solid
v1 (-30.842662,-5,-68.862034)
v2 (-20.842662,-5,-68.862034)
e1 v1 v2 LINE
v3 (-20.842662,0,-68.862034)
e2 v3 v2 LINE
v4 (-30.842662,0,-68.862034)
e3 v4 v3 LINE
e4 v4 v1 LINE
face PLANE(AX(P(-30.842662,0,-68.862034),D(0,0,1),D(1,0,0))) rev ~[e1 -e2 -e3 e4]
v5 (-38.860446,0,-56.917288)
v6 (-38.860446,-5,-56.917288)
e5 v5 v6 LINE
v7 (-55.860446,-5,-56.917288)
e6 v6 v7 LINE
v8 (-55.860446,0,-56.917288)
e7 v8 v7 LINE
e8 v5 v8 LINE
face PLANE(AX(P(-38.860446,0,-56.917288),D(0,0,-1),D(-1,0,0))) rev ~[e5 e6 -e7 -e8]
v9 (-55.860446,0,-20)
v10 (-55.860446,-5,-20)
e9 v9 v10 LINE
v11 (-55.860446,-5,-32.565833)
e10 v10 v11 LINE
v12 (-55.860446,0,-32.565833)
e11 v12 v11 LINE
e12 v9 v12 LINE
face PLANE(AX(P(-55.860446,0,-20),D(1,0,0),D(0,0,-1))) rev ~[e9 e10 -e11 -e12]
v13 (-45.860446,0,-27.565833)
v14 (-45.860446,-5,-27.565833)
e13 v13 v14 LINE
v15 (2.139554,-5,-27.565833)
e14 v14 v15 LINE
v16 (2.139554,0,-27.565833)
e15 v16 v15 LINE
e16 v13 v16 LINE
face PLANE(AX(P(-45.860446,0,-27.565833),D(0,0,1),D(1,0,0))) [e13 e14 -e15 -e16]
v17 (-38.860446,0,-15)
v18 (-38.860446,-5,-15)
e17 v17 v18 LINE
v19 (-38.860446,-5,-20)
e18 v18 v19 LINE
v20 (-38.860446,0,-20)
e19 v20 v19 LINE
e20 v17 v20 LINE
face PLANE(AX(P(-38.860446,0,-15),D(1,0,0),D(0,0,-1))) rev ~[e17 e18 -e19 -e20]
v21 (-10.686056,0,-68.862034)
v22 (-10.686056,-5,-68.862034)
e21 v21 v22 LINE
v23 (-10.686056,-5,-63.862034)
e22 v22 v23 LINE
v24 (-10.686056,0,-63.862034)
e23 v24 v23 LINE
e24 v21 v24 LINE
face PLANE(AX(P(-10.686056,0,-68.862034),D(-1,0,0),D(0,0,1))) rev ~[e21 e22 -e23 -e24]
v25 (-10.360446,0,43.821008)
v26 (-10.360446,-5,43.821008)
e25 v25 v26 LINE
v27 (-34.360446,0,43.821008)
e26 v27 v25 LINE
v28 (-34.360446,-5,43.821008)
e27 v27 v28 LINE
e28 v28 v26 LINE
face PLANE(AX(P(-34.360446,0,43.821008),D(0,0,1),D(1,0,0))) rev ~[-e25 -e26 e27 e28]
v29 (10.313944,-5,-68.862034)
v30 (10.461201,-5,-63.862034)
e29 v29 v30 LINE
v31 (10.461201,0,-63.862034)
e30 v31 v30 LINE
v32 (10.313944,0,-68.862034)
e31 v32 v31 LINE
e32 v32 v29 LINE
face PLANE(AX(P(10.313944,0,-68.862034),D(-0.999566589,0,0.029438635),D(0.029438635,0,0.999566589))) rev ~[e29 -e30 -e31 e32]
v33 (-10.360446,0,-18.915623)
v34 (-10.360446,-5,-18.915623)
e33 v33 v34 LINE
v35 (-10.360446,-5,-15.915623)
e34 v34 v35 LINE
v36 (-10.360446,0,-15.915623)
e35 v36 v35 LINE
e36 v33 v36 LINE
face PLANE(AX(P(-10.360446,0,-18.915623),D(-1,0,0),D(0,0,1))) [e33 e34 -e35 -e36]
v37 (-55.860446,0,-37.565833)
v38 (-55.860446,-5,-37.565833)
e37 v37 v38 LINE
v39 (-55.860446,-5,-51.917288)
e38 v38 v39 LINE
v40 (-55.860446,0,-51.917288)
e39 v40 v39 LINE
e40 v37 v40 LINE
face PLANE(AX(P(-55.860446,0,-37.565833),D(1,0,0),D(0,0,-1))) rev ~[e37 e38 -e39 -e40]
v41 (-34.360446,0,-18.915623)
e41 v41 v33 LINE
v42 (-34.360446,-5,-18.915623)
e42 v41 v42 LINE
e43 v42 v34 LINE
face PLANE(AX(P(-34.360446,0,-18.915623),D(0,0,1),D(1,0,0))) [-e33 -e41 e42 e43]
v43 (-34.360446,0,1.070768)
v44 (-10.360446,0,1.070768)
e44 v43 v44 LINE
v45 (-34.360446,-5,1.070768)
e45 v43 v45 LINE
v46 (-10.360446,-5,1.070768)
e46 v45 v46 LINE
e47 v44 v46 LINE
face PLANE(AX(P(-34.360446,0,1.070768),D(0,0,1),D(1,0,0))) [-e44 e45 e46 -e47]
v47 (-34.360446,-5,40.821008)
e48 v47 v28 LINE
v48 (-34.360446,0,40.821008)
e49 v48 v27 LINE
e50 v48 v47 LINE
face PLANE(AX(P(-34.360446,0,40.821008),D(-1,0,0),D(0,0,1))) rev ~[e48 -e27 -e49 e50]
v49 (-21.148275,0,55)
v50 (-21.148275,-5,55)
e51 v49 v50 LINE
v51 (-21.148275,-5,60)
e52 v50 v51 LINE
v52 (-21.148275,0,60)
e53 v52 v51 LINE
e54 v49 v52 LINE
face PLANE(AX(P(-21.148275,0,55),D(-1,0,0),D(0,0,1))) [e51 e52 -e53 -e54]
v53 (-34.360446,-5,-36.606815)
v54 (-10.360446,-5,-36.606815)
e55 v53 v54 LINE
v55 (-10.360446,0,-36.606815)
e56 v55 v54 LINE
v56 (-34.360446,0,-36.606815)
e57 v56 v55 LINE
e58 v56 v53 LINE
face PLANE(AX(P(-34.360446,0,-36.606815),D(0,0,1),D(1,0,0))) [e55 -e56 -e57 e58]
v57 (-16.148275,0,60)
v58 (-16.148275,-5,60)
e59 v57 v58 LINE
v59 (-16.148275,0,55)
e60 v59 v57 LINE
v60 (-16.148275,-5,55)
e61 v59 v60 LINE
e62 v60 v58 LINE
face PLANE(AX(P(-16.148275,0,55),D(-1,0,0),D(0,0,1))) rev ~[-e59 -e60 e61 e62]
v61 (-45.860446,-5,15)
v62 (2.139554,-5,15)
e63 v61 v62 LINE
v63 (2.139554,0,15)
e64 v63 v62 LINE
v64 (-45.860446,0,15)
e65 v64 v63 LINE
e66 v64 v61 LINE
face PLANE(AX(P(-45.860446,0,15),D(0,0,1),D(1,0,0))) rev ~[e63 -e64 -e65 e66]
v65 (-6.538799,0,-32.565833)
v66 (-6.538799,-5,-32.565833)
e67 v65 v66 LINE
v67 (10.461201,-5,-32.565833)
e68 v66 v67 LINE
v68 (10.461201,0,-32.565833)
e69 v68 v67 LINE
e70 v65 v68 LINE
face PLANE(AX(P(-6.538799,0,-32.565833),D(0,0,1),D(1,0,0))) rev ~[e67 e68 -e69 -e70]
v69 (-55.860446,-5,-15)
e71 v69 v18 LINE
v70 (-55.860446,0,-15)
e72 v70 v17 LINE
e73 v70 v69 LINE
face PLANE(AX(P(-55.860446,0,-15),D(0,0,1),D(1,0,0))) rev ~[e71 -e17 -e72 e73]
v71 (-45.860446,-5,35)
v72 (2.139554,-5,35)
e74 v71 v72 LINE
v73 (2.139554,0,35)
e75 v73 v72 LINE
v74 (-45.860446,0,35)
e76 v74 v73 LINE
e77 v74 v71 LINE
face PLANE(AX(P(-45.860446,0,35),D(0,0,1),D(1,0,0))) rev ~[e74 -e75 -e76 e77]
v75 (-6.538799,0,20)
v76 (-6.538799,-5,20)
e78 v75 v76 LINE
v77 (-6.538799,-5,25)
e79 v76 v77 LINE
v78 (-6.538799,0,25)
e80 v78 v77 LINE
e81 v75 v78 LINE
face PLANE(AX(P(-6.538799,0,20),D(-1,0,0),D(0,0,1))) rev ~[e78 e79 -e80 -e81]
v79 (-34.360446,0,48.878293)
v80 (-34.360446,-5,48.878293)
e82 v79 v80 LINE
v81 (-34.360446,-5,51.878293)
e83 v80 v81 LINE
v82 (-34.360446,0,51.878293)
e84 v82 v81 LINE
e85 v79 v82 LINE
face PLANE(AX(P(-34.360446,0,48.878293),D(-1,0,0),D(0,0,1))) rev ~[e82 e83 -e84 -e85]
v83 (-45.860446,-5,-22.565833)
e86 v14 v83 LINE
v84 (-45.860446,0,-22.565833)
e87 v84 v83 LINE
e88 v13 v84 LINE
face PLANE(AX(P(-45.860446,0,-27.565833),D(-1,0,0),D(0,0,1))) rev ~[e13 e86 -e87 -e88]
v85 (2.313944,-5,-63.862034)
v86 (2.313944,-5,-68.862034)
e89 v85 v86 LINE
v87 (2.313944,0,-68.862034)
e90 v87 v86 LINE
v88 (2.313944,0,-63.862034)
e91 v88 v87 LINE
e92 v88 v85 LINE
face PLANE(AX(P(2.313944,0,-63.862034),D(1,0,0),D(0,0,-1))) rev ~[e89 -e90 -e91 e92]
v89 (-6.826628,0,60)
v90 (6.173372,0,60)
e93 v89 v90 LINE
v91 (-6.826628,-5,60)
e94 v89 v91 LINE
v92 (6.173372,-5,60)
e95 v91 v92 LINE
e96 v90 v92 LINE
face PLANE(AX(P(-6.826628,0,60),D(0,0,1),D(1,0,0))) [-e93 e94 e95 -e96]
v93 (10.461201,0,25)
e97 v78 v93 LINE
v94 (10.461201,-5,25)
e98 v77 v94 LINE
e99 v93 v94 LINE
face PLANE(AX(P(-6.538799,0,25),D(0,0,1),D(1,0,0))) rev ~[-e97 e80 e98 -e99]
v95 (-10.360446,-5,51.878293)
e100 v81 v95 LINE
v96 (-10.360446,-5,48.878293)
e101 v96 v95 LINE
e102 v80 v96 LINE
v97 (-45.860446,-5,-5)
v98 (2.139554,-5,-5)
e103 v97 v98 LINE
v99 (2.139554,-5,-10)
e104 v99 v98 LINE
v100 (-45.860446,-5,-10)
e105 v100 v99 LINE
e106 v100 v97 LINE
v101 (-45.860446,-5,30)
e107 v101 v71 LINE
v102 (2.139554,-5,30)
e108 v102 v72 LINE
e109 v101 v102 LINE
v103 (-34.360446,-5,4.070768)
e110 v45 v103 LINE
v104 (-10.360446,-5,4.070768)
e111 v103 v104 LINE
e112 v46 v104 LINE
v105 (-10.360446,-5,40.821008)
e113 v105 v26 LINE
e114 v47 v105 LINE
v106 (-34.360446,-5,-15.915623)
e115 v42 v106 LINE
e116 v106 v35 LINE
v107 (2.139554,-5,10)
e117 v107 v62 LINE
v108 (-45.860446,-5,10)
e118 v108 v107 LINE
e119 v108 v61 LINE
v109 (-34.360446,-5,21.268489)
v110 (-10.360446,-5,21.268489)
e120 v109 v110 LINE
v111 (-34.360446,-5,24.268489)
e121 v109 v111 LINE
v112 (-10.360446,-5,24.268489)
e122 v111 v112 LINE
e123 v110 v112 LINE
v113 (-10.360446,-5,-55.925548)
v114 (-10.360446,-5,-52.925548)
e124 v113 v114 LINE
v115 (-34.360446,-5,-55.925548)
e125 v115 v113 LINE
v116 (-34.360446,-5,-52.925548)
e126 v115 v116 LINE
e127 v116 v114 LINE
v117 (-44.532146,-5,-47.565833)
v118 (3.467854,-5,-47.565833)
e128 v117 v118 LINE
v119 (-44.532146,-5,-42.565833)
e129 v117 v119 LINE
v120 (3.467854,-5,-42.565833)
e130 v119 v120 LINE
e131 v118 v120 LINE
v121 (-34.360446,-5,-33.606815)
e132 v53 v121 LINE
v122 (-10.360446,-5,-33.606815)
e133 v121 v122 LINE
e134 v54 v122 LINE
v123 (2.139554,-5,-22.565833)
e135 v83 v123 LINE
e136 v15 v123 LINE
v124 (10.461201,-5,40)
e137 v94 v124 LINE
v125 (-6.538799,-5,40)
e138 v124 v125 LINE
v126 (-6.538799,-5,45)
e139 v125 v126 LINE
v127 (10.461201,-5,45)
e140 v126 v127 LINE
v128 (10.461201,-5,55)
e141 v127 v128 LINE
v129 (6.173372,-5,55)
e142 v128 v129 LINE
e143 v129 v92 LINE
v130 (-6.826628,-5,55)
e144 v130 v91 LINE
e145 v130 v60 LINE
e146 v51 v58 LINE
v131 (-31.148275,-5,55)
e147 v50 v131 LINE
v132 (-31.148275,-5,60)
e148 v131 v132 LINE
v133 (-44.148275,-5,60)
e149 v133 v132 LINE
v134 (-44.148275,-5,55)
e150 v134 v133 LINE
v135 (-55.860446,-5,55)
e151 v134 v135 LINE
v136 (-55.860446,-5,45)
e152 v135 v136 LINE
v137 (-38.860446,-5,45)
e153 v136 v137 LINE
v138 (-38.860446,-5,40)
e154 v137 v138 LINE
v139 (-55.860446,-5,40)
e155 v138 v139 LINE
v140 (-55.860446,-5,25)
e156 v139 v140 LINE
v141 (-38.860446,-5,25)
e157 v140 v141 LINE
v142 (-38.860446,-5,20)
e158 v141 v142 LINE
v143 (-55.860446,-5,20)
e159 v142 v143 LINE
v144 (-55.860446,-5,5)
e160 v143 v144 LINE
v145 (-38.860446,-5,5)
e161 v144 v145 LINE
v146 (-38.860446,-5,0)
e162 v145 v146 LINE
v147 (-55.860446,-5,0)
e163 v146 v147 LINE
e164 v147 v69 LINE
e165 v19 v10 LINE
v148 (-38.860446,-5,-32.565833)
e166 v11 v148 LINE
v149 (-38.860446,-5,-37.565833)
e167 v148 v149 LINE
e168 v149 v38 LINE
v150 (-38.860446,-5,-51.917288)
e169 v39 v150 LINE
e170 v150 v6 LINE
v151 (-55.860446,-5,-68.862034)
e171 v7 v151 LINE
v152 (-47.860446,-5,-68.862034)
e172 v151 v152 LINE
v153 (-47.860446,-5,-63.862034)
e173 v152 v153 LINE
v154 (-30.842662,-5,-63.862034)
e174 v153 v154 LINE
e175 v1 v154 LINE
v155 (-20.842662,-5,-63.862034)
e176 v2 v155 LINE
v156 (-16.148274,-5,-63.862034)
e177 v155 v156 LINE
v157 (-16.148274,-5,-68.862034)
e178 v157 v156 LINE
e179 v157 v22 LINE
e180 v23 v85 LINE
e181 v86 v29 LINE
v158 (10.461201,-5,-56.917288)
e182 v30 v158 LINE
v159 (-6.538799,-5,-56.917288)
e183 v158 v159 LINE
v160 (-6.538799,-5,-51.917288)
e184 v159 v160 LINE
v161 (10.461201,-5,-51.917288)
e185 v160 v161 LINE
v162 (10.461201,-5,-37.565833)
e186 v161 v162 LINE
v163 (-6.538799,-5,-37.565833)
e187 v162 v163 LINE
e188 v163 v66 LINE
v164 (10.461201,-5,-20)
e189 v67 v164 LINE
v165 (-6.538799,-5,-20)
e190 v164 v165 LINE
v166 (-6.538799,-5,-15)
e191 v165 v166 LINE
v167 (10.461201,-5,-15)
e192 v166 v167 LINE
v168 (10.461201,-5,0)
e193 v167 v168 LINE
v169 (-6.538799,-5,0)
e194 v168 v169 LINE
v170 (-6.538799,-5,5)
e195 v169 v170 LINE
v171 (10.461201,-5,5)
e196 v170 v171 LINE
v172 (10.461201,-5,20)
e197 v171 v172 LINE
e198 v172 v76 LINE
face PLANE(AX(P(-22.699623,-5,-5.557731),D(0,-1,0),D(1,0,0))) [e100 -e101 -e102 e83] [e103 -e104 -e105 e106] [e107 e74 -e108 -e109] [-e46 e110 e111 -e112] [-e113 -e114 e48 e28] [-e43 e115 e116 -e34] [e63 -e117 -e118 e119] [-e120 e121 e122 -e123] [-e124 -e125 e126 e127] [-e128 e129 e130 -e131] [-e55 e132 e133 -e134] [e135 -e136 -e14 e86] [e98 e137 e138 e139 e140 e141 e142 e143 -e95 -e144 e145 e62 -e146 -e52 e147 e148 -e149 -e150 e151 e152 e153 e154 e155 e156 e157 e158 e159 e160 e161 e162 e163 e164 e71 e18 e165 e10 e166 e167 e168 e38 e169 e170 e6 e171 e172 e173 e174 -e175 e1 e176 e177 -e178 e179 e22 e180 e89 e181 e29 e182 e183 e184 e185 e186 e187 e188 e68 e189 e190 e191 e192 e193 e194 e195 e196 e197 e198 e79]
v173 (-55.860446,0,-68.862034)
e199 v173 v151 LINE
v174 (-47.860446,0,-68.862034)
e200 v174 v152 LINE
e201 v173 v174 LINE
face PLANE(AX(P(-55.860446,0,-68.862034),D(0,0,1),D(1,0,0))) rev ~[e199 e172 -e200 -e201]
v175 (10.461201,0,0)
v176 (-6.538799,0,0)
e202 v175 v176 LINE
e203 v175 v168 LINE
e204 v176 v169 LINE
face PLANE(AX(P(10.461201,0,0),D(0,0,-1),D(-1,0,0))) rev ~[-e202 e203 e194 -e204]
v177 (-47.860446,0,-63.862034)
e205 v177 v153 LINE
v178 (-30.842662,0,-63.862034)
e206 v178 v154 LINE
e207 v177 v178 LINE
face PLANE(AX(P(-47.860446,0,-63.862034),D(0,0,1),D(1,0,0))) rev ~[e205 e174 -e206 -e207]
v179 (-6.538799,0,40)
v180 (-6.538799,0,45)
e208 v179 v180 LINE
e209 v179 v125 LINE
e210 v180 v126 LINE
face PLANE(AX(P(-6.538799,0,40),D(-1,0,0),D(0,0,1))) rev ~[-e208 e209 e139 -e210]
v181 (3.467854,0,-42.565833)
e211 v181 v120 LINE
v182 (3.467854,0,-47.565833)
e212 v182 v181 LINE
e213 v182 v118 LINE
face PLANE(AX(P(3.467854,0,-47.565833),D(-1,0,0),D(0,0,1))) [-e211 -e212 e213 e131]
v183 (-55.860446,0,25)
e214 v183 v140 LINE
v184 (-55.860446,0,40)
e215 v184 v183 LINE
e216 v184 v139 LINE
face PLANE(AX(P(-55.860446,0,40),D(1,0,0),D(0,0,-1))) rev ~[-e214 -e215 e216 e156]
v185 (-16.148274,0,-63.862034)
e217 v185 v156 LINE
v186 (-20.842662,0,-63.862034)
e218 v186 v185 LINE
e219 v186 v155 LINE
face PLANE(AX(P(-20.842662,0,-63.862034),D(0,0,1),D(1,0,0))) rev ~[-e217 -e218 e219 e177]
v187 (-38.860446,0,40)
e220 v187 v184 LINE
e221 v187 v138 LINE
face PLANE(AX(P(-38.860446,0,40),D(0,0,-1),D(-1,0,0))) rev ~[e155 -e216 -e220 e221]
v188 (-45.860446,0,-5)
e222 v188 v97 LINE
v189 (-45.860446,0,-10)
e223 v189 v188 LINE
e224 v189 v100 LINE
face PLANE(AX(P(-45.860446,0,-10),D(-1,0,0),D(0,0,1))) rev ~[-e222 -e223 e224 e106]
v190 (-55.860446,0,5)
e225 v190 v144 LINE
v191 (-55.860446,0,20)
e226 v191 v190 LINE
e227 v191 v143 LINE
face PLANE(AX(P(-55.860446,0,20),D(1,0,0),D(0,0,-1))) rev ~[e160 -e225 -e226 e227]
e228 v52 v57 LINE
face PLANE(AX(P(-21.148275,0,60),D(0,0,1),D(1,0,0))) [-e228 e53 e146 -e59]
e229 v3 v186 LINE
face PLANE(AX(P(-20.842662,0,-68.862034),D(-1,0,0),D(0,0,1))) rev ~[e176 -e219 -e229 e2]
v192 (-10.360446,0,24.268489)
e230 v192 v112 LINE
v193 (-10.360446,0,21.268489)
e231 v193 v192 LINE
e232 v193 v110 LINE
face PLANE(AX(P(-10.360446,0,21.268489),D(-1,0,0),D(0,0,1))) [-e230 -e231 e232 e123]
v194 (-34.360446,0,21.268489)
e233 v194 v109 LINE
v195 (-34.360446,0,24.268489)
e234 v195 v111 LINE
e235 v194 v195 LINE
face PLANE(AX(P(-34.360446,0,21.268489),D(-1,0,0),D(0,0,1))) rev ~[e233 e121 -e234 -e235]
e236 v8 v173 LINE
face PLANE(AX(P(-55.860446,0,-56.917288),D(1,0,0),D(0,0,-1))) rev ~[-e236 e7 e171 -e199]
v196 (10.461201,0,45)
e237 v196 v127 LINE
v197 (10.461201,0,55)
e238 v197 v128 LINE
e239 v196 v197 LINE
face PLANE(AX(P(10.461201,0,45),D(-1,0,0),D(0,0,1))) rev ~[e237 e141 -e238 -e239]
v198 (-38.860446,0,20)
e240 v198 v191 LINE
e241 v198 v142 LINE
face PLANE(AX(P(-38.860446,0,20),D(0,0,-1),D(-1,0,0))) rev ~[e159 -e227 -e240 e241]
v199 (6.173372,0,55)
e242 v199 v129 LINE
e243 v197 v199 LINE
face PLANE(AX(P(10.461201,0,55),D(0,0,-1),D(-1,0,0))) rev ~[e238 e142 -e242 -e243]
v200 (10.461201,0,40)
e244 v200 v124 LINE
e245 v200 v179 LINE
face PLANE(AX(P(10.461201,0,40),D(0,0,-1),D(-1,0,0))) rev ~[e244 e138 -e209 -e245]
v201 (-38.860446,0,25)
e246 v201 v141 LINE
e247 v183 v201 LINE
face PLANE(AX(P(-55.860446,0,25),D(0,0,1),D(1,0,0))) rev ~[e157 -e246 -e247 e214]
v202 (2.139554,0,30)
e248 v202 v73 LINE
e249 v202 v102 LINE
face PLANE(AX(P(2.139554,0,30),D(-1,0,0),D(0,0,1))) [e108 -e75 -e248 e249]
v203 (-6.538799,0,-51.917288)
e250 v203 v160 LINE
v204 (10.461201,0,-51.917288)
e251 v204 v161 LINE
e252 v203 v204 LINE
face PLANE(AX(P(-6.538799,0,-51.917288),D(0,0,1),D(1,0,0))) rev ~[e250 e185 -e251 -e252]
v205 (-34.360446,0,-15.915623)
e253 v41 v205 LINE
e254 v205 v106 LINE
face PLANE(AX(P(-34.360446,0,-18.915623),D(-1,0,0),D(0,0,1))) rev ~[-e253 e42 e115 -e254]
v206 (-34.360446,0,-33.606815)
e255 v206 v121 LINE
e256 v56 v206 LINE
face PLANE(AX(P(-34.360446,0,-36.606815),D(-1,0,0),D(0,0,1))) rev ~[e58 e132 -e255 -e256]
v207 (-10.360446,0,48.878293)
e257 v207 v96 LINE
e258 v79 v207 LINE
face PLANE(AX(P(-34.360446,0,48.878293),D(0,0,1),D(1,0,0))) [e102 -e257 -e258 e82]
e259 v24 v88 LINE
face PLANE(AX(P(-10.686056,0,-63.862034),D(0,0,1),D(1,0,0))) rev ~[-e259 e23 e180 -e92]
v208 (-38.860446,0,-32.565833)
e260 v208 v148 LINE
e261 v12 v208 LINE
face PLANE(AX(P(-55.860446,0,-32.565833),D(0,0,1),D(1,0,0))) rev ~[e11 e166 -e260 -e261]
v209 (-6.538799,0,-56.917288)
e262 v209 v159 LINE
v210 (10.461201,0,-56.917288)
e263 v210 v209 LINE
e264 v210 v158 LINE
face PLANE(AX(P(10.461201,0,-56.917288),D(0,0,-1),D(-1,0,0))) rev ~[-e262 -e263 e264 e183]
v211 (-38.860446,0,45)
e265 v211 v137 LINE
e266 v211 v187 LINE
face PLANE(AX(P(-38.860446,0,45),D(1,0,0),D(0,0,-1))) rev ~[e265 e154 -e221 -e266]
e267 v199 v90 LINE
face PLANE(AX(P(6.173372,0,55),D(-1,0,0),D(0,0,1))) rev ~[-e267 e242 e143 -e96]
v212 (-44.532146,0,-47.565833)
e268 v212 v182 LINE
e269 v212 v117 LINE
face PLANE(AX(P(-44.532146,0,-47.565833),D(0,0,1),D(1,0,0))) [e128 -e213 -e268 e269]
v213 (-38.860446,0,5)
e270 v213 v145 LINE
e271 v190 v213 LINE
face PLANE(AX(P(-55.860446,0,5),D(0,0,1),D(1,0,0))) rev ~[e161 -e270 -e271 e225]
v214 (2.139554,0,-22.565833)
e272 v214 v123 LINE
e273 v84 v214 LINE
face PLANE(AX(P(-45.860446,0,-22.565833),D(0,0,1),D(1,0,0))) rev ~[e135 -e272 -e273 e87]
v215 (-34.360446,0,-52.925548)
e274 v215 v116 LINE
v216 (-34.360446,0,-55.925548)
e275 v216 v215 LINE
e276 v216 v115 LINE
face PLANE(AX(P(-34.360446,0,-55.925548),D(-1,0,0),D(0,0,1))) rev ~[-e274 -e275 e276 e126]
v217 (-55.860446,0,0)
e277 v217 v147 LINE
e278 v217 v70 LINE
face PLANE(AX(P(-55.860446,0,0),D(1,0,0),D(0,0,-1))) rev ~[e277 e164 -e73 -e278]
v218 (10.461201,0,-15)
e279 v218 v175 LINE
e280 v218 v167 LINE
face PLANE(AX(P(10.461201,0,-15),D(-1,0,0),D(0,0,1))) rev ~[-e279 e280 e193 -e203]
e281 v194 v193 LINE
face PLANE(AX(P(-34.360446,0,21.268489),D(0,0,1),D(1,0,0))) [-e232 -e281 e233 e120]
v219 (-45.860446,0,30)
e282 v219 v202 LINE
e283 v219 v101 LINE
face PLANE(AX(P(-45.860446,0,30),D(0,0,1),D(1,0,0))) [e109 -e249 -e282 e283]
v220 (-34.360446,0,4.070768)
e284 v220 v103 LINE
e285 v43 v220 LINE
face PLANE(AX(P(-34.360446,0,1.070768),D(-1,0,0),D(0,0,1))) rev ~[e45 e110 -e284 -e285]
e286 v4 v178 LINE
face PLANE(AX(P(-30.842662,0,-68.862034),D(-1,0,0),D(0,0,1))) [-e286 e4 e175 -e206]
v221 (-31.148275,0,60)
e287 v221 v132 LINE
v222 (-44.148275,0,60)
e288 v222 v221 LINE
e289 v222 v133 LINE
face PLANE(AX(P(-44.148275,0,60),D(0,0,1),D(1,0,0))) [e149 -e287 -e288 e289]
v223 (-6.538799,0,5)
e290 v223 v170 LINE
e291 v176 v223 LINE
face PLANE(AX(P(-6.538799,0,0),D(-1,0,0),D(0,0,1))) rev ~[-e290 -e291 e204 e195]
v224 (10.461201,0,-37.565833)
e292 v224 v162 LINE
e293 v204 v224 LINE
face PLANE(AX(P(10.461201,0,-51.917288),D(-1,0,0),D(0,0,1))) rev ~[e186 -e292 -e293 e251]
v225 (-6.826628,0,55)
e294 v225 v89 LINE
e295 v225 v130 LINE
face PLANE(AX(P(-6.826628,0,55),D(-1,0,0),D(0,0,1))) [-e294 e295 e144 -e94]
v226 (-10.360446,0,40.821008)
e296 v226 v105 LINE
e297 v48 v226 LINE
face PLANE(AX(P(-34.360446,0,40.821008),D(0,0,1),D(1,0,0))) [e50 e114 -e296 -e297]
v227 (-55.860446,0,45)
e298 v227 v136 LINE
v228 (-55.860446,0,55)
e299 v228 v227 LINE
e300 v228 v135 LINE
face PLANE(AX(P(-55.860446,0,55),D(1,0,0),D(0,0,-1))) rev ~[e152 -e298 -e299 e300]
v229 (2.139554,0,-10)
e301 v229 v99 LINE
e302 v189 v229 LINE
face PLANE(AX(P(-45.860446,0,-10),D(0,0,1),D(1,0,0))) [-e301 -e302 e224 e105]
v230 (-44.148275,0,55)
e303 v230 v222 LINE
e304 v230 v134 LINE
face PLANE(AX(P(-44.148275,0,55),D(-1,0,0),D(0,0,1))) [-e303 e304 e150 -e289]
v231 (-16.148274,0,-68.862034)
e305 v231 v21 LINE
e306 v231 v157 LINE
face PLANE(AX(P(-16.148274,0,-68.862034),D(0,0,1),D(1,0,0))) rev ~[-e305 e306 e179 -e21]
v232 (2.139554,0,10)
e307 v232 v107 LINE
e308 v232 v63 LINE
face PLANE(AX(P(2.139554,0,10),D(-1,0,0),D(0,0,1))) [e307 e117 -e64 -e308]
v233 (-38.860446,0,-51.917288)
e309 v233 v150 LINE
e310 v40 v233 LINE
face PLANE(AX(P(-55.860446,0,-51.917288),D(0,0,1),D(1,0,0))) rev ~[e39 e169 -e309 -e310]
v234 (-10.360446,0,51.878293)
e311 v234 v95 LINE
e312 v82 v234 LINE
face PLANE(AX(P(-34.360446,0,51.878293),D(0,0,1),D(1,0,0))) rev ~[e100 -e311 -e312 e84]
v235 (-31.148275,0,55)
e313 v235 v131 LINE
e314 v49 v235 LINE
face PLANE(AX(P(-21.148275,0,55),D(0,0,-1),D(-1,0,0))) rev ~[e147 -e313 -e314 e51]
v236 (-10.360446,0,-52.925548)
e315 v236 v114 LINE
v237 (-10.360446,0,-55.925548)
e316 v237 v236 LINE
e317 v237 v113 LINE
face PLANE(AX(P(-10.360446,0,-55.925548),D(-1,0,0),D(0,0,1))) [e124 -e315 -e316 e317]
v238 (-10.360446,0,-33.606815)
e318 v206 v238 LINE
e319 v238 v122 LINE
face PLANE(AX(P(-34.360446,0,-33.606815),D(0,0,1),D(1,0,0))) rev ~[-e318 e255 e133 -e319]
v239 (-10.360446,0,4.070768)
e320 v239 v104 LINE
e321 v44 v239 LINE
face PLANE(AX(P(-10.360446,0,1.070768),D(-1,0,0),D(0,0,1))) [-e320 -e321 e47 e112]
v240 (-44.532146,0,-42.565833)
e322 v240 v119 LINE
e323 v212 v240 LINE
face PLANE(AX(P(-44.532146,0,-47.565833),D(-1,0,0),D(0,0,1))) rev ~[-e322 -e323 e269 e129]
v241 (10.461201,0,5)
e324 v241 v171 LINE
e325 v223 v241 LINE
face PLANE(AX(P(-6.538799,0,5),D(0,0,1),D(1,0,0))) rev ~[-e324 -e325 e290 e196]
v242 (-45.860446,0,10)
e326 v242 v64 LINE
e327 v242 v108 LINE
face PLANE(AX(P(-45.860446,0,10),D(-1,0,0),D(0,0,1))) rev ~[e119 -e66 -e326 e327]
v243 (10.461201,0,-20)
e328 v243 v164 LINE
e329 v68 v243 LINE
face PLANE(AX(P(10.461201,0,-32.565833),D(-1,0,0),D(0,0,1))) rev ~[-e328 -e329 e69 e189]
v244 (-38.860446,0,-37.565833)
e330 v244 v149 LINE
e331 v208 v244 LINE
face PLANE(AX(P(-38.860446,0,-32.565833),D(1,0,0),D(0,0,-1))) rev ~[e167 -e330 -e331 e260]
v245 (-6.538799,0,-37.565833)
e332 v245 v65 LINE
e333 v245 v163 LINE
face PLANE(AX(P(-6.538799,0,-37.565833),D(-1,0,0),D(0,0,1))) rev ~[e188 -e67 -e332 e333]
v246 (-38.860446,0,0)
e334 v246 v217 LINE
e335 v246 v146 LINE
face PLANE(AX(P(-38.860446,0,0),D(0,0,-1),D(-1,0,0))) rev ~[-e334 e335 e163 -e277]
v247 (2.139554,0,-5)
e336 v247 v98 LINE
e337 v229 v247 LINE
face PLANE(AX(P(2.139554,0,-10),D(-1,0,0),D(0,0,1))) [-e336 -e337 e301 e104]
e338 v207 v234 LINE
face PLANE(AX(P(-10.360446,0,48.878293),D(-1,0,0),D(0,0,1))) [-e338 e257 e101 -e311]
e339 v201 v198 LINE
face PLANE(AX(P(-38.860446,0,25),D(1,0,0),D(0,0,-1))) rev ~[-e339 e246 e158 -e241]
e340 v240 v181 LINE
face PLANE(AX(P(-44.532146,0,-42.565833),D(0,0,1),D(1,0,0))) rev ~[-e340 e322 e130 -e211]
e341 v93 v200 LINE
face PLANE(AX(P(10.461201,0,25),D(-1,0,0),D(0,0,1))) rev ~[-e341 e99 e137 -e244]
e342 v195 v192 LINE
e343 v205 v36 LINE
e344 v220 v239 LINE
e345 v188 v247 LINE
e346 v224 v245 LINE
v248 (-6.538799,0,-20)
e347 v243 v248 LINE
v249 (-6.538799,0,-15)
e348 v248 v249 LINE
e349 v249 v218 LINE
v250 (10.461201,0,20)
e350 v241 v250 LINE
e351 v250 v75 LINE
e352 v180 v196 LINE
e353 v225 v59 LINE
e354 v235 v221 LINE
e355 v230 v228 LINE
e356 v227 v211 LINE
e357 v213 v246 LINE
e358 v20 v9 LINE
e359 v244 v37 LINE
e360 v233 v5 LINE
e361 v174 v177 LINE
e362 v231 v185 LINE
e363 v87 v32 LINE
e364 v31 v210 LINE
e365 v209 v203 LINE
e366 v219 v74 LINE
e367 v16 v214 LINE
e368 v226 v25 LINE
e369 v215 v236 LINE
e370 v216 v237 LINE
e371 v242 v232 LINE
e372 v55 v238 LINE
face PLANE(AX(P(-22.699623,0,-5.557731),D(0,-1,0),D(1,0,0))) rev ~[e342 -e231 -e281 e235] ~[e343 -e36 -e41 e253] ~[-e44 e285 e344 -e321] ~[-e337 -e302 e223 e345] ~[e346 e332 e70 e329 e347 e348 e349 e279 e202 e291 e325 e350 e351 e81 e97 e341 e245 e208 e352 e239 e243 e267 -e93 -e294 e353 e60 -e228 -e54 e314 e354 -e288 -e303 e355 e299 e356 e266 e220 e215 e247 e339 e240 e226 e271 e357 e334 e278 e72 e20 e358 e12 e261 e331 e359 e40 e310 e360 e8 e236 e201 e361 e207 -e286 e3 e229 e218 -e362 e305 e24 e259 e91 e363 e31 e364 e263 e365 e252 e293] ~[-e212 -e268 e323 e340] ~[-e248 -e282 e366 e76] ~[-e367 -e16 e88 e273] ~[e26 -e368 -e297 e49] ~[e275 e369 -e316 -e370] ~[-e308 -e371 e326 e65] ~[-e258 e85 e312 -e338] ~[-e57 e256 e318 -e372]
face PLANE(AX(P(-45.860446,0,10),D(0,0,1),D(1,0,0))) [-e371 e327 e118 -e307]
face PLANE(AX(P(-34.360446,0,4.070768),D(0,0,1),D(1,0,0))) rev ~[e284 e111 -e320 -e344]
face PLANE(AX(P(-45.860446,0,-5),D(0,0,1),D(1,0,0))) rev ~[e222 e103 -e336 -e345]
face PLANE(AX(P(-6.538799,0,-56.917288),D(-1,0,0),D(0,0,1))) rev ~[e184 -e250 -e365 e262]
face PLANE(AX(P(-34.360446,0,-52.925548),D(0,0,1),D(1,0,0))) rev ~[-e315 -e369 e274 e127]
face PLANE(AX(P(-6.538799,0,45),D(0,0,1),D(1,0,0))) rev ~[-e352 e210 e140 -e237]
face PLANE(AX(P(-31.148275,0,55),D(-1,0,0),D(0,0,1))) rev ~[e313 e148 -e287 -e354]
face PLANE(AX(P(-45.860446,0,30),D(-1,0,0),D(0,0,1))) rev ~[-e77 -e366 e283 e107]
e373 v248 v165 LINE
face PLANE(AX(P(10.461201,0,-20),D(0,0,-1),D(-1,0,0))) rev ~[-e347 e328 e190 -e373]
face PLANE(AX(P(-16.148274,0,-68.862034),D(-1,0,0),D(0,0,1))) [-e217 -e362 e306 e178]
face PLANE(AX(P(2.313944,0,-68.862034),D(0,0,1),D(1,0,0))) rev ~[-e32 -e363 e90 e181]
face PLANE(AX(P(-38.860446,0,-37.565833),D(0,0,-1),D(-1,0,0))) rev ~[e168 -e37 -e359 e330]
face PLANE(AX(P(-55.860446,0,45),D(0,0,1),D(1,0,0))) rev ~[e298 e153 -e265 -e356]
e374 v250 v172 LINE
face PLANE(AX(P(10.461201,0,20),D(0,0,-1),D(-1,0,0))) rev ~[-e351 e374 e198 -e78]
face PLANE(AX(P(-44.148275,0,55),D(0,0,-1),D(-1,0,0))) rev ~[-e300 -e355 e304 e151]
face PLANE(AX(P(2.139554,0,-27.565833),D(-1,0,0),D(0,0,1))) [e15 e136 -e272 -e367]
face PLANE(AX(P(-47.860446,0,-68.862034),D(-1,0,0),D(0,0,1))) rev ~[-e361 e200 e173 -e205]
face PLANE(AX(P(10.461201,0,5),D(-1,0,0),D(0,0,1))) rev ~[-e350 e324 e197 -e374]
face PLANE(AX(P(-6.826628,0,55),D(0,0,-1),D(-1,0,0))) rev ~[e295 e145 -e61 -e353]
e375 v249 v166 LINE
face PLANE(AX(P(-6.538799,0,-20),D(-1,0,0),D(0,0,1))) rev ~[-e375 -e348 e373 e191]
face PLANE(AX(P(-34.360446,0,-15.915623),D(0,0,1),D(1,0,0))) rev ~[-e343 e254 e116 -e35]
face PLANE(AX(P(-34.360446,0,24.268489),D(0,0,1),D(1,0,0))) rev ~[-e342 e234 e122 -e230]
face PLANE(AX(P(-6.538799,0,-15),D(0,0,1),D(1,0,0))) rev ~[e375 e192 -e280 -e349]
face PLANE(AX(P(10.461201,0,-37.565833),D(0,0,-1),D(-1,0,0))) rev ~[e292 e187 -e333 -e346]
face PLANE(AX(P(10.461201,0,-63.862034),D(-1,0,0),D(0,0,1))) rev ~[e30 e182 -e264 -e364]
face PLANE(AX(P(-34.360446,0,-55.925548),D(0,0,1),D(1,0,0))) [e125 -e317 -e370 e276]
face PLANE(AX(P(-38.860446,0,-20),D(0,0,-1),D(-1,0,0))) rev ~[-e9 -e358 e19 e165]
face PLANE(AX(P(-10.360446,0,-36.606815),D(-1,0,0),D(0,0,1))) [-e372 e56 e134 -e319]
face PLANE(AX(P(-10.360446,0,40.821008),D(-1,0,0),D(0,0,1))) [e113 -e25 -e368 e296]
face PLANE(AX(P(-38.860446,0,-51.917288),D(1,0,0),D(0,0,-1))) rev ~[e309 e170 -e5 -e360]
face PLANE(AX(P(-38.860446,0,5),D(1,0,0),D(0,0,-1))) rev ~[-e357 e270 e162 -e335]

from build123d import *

# Parameters (mm, degrees)
F0_W     = 24
F0_H     = 3
F0_W_2   = 48
F0_H_2   = 5
F0_W_3   = 13
F0_W_4   = 5
F0_W_5   = 10
F0_W_6   = 5.462219
F0_W_7   = 8
F2_DEPTH = 5


with BuildPart() as f2:
    # F0 (on Front) → F2 (new body)
    with BuildSketch(Plane.XZ):
        Polygon((-44.148275, 55), (-55.860446, 55), (-55.860446, 45), (-38.860446, 45), (-38.860446, 40), (-55.860446, 40), (-55.860446, 25), (-38.860446, 25), (-38.860446, 20), (-55.860446, 20), (-55.860446, 5), (-38.860446, 5), (-38.860446, 0), (-55.860446, 0), (-55.860446, -15), (-38.860446, -15), (-38.860446, -20), (-55.860446, -20), (-55.860446, -32.565833), (-38.860446, -32.565833), (-38.860446, -37.565833), (-55.860446, -37.565833), (-55.860446, -51.917288), (-38.860446, -51.917288), (-38.860446, -56.917288), (-55.860446, -56.917288), (-55.860446, -63.862034), (-47.860446, -63.862034), (-30.842662, -63.862034), (-20.842662, -63.862034), (-16.148275, -63.862034), (-10.686056, -63.862034), (2.313944, -63.862034), (10.461201, -63.862034), (10.461201, -56.917288), (-6.538799, -56.917288), (-6.538799, -51.917288), (10.461201, -51.917288), (10.461201, -37.565833), (-6.538799, -37.565833), (-6.538799, -32.565833), (10.461201, -32.565833), (10.461201, -20), (-6.538799, -20), (-6.538799, -15), (10.461201, -15), (10.461201, 0), (-6.538799, 0), (-6.538799, 5), (10.461201, 5), (10.461201, 20), (-6.538799, 20), (-6.538799, 25), (10.461201, 25), (10.461201, 40), (-6.538799, 40), (-6.538799, 45), (10.461201, 45), (10.461201, 55), (6.173372, 55), (-6.826628, 55), (-16.148275, 55), (-21.148275, 55), (-31.148275, 55), align=None)
        with Locations((-22.360446, -54.425548)):
            Rectangle(F0_W, F0_H, mode=Mode.SUBTRACT)
        with Locations((-20.532146, -45.065833)):
            Rectangle(F0_W_2, F0_H_2, mode=Mode.SUBTRACT)
        with Locations((-22.360446, -35.106815)):
            Rectangle(F0_W, F0_H, mode=Mode.SUBTRACT)
        with Locations((-21.860446, -25.065833)):
            Rectangle(F0_W_2, F0_H_2, mode=Mode.SUBTRACT)
        with Locations((-22.360446, -17.415623)):
            Rectangle(F0_W, F0_H, mode=Mode.SUBTRACT)
        with Locations((-21.860446, -7.5)):
            Rectangle(F0_W_2, F0_H_2, mode=Mode.SUBTRACT)
        with Locations((-22.360446, 2.570768)):
            Rectangle(F0_W, F0_H, mode=Mode.SUBTRACT)
        with Locations((-21.860446, 12.5)):
            Rectangle(F0_W_2, F0_H_2, mode=Mode.SUBTRACT)
        with Locations((-22.360446, 22.768489)):
            Rectangle(F0_W, F0_H, mode=Mode.SUBTRACT)
        with Locations((-21.860446, 32.5)):
            Rectangle(F0_W_2, F0_H_2, mode=Mode.SUBTRACT)
        with Locations((-22.360446, 42.321008)):
            Rectangle(F0_W, F0_H, mode=Mode.SUBTRACT)
        with Locations((-22.360446, 50.378293)):
            Rectangle(F0_W, F0_H, mode=Mode.SUBTRACT)
        with Locations((-37.648275, 57.5)):
            Rectangle(F0_W_3, F0_H_2)
        with Locations((-18.648275, 57.5)):
            Rectangle(F0_W_4, F0_H_2)
        with Locations((-0.326628, 57.5)):
            Rectangle(F0_W_3, F0_H_2)
        with Locations((-25.842662, -66.362034)):
            Rectangle(F0_W_5, F0_H_2)
        with Locations((-13.417165, -66.362034)):
            Rectangle(F0_W_6, F0_H_2)
        Polygon((10.461201, -63.862034), (2.313944, -63.862034), (2.313944, -68.862034), (10.313944, -68.862034), align=None)
        with Locations((-51.860446, -66.362034)):
            Rectangle(F0_W_7, F0_H_2)
    extrude(amount=F2_DEPTH)


solid = f2.part
